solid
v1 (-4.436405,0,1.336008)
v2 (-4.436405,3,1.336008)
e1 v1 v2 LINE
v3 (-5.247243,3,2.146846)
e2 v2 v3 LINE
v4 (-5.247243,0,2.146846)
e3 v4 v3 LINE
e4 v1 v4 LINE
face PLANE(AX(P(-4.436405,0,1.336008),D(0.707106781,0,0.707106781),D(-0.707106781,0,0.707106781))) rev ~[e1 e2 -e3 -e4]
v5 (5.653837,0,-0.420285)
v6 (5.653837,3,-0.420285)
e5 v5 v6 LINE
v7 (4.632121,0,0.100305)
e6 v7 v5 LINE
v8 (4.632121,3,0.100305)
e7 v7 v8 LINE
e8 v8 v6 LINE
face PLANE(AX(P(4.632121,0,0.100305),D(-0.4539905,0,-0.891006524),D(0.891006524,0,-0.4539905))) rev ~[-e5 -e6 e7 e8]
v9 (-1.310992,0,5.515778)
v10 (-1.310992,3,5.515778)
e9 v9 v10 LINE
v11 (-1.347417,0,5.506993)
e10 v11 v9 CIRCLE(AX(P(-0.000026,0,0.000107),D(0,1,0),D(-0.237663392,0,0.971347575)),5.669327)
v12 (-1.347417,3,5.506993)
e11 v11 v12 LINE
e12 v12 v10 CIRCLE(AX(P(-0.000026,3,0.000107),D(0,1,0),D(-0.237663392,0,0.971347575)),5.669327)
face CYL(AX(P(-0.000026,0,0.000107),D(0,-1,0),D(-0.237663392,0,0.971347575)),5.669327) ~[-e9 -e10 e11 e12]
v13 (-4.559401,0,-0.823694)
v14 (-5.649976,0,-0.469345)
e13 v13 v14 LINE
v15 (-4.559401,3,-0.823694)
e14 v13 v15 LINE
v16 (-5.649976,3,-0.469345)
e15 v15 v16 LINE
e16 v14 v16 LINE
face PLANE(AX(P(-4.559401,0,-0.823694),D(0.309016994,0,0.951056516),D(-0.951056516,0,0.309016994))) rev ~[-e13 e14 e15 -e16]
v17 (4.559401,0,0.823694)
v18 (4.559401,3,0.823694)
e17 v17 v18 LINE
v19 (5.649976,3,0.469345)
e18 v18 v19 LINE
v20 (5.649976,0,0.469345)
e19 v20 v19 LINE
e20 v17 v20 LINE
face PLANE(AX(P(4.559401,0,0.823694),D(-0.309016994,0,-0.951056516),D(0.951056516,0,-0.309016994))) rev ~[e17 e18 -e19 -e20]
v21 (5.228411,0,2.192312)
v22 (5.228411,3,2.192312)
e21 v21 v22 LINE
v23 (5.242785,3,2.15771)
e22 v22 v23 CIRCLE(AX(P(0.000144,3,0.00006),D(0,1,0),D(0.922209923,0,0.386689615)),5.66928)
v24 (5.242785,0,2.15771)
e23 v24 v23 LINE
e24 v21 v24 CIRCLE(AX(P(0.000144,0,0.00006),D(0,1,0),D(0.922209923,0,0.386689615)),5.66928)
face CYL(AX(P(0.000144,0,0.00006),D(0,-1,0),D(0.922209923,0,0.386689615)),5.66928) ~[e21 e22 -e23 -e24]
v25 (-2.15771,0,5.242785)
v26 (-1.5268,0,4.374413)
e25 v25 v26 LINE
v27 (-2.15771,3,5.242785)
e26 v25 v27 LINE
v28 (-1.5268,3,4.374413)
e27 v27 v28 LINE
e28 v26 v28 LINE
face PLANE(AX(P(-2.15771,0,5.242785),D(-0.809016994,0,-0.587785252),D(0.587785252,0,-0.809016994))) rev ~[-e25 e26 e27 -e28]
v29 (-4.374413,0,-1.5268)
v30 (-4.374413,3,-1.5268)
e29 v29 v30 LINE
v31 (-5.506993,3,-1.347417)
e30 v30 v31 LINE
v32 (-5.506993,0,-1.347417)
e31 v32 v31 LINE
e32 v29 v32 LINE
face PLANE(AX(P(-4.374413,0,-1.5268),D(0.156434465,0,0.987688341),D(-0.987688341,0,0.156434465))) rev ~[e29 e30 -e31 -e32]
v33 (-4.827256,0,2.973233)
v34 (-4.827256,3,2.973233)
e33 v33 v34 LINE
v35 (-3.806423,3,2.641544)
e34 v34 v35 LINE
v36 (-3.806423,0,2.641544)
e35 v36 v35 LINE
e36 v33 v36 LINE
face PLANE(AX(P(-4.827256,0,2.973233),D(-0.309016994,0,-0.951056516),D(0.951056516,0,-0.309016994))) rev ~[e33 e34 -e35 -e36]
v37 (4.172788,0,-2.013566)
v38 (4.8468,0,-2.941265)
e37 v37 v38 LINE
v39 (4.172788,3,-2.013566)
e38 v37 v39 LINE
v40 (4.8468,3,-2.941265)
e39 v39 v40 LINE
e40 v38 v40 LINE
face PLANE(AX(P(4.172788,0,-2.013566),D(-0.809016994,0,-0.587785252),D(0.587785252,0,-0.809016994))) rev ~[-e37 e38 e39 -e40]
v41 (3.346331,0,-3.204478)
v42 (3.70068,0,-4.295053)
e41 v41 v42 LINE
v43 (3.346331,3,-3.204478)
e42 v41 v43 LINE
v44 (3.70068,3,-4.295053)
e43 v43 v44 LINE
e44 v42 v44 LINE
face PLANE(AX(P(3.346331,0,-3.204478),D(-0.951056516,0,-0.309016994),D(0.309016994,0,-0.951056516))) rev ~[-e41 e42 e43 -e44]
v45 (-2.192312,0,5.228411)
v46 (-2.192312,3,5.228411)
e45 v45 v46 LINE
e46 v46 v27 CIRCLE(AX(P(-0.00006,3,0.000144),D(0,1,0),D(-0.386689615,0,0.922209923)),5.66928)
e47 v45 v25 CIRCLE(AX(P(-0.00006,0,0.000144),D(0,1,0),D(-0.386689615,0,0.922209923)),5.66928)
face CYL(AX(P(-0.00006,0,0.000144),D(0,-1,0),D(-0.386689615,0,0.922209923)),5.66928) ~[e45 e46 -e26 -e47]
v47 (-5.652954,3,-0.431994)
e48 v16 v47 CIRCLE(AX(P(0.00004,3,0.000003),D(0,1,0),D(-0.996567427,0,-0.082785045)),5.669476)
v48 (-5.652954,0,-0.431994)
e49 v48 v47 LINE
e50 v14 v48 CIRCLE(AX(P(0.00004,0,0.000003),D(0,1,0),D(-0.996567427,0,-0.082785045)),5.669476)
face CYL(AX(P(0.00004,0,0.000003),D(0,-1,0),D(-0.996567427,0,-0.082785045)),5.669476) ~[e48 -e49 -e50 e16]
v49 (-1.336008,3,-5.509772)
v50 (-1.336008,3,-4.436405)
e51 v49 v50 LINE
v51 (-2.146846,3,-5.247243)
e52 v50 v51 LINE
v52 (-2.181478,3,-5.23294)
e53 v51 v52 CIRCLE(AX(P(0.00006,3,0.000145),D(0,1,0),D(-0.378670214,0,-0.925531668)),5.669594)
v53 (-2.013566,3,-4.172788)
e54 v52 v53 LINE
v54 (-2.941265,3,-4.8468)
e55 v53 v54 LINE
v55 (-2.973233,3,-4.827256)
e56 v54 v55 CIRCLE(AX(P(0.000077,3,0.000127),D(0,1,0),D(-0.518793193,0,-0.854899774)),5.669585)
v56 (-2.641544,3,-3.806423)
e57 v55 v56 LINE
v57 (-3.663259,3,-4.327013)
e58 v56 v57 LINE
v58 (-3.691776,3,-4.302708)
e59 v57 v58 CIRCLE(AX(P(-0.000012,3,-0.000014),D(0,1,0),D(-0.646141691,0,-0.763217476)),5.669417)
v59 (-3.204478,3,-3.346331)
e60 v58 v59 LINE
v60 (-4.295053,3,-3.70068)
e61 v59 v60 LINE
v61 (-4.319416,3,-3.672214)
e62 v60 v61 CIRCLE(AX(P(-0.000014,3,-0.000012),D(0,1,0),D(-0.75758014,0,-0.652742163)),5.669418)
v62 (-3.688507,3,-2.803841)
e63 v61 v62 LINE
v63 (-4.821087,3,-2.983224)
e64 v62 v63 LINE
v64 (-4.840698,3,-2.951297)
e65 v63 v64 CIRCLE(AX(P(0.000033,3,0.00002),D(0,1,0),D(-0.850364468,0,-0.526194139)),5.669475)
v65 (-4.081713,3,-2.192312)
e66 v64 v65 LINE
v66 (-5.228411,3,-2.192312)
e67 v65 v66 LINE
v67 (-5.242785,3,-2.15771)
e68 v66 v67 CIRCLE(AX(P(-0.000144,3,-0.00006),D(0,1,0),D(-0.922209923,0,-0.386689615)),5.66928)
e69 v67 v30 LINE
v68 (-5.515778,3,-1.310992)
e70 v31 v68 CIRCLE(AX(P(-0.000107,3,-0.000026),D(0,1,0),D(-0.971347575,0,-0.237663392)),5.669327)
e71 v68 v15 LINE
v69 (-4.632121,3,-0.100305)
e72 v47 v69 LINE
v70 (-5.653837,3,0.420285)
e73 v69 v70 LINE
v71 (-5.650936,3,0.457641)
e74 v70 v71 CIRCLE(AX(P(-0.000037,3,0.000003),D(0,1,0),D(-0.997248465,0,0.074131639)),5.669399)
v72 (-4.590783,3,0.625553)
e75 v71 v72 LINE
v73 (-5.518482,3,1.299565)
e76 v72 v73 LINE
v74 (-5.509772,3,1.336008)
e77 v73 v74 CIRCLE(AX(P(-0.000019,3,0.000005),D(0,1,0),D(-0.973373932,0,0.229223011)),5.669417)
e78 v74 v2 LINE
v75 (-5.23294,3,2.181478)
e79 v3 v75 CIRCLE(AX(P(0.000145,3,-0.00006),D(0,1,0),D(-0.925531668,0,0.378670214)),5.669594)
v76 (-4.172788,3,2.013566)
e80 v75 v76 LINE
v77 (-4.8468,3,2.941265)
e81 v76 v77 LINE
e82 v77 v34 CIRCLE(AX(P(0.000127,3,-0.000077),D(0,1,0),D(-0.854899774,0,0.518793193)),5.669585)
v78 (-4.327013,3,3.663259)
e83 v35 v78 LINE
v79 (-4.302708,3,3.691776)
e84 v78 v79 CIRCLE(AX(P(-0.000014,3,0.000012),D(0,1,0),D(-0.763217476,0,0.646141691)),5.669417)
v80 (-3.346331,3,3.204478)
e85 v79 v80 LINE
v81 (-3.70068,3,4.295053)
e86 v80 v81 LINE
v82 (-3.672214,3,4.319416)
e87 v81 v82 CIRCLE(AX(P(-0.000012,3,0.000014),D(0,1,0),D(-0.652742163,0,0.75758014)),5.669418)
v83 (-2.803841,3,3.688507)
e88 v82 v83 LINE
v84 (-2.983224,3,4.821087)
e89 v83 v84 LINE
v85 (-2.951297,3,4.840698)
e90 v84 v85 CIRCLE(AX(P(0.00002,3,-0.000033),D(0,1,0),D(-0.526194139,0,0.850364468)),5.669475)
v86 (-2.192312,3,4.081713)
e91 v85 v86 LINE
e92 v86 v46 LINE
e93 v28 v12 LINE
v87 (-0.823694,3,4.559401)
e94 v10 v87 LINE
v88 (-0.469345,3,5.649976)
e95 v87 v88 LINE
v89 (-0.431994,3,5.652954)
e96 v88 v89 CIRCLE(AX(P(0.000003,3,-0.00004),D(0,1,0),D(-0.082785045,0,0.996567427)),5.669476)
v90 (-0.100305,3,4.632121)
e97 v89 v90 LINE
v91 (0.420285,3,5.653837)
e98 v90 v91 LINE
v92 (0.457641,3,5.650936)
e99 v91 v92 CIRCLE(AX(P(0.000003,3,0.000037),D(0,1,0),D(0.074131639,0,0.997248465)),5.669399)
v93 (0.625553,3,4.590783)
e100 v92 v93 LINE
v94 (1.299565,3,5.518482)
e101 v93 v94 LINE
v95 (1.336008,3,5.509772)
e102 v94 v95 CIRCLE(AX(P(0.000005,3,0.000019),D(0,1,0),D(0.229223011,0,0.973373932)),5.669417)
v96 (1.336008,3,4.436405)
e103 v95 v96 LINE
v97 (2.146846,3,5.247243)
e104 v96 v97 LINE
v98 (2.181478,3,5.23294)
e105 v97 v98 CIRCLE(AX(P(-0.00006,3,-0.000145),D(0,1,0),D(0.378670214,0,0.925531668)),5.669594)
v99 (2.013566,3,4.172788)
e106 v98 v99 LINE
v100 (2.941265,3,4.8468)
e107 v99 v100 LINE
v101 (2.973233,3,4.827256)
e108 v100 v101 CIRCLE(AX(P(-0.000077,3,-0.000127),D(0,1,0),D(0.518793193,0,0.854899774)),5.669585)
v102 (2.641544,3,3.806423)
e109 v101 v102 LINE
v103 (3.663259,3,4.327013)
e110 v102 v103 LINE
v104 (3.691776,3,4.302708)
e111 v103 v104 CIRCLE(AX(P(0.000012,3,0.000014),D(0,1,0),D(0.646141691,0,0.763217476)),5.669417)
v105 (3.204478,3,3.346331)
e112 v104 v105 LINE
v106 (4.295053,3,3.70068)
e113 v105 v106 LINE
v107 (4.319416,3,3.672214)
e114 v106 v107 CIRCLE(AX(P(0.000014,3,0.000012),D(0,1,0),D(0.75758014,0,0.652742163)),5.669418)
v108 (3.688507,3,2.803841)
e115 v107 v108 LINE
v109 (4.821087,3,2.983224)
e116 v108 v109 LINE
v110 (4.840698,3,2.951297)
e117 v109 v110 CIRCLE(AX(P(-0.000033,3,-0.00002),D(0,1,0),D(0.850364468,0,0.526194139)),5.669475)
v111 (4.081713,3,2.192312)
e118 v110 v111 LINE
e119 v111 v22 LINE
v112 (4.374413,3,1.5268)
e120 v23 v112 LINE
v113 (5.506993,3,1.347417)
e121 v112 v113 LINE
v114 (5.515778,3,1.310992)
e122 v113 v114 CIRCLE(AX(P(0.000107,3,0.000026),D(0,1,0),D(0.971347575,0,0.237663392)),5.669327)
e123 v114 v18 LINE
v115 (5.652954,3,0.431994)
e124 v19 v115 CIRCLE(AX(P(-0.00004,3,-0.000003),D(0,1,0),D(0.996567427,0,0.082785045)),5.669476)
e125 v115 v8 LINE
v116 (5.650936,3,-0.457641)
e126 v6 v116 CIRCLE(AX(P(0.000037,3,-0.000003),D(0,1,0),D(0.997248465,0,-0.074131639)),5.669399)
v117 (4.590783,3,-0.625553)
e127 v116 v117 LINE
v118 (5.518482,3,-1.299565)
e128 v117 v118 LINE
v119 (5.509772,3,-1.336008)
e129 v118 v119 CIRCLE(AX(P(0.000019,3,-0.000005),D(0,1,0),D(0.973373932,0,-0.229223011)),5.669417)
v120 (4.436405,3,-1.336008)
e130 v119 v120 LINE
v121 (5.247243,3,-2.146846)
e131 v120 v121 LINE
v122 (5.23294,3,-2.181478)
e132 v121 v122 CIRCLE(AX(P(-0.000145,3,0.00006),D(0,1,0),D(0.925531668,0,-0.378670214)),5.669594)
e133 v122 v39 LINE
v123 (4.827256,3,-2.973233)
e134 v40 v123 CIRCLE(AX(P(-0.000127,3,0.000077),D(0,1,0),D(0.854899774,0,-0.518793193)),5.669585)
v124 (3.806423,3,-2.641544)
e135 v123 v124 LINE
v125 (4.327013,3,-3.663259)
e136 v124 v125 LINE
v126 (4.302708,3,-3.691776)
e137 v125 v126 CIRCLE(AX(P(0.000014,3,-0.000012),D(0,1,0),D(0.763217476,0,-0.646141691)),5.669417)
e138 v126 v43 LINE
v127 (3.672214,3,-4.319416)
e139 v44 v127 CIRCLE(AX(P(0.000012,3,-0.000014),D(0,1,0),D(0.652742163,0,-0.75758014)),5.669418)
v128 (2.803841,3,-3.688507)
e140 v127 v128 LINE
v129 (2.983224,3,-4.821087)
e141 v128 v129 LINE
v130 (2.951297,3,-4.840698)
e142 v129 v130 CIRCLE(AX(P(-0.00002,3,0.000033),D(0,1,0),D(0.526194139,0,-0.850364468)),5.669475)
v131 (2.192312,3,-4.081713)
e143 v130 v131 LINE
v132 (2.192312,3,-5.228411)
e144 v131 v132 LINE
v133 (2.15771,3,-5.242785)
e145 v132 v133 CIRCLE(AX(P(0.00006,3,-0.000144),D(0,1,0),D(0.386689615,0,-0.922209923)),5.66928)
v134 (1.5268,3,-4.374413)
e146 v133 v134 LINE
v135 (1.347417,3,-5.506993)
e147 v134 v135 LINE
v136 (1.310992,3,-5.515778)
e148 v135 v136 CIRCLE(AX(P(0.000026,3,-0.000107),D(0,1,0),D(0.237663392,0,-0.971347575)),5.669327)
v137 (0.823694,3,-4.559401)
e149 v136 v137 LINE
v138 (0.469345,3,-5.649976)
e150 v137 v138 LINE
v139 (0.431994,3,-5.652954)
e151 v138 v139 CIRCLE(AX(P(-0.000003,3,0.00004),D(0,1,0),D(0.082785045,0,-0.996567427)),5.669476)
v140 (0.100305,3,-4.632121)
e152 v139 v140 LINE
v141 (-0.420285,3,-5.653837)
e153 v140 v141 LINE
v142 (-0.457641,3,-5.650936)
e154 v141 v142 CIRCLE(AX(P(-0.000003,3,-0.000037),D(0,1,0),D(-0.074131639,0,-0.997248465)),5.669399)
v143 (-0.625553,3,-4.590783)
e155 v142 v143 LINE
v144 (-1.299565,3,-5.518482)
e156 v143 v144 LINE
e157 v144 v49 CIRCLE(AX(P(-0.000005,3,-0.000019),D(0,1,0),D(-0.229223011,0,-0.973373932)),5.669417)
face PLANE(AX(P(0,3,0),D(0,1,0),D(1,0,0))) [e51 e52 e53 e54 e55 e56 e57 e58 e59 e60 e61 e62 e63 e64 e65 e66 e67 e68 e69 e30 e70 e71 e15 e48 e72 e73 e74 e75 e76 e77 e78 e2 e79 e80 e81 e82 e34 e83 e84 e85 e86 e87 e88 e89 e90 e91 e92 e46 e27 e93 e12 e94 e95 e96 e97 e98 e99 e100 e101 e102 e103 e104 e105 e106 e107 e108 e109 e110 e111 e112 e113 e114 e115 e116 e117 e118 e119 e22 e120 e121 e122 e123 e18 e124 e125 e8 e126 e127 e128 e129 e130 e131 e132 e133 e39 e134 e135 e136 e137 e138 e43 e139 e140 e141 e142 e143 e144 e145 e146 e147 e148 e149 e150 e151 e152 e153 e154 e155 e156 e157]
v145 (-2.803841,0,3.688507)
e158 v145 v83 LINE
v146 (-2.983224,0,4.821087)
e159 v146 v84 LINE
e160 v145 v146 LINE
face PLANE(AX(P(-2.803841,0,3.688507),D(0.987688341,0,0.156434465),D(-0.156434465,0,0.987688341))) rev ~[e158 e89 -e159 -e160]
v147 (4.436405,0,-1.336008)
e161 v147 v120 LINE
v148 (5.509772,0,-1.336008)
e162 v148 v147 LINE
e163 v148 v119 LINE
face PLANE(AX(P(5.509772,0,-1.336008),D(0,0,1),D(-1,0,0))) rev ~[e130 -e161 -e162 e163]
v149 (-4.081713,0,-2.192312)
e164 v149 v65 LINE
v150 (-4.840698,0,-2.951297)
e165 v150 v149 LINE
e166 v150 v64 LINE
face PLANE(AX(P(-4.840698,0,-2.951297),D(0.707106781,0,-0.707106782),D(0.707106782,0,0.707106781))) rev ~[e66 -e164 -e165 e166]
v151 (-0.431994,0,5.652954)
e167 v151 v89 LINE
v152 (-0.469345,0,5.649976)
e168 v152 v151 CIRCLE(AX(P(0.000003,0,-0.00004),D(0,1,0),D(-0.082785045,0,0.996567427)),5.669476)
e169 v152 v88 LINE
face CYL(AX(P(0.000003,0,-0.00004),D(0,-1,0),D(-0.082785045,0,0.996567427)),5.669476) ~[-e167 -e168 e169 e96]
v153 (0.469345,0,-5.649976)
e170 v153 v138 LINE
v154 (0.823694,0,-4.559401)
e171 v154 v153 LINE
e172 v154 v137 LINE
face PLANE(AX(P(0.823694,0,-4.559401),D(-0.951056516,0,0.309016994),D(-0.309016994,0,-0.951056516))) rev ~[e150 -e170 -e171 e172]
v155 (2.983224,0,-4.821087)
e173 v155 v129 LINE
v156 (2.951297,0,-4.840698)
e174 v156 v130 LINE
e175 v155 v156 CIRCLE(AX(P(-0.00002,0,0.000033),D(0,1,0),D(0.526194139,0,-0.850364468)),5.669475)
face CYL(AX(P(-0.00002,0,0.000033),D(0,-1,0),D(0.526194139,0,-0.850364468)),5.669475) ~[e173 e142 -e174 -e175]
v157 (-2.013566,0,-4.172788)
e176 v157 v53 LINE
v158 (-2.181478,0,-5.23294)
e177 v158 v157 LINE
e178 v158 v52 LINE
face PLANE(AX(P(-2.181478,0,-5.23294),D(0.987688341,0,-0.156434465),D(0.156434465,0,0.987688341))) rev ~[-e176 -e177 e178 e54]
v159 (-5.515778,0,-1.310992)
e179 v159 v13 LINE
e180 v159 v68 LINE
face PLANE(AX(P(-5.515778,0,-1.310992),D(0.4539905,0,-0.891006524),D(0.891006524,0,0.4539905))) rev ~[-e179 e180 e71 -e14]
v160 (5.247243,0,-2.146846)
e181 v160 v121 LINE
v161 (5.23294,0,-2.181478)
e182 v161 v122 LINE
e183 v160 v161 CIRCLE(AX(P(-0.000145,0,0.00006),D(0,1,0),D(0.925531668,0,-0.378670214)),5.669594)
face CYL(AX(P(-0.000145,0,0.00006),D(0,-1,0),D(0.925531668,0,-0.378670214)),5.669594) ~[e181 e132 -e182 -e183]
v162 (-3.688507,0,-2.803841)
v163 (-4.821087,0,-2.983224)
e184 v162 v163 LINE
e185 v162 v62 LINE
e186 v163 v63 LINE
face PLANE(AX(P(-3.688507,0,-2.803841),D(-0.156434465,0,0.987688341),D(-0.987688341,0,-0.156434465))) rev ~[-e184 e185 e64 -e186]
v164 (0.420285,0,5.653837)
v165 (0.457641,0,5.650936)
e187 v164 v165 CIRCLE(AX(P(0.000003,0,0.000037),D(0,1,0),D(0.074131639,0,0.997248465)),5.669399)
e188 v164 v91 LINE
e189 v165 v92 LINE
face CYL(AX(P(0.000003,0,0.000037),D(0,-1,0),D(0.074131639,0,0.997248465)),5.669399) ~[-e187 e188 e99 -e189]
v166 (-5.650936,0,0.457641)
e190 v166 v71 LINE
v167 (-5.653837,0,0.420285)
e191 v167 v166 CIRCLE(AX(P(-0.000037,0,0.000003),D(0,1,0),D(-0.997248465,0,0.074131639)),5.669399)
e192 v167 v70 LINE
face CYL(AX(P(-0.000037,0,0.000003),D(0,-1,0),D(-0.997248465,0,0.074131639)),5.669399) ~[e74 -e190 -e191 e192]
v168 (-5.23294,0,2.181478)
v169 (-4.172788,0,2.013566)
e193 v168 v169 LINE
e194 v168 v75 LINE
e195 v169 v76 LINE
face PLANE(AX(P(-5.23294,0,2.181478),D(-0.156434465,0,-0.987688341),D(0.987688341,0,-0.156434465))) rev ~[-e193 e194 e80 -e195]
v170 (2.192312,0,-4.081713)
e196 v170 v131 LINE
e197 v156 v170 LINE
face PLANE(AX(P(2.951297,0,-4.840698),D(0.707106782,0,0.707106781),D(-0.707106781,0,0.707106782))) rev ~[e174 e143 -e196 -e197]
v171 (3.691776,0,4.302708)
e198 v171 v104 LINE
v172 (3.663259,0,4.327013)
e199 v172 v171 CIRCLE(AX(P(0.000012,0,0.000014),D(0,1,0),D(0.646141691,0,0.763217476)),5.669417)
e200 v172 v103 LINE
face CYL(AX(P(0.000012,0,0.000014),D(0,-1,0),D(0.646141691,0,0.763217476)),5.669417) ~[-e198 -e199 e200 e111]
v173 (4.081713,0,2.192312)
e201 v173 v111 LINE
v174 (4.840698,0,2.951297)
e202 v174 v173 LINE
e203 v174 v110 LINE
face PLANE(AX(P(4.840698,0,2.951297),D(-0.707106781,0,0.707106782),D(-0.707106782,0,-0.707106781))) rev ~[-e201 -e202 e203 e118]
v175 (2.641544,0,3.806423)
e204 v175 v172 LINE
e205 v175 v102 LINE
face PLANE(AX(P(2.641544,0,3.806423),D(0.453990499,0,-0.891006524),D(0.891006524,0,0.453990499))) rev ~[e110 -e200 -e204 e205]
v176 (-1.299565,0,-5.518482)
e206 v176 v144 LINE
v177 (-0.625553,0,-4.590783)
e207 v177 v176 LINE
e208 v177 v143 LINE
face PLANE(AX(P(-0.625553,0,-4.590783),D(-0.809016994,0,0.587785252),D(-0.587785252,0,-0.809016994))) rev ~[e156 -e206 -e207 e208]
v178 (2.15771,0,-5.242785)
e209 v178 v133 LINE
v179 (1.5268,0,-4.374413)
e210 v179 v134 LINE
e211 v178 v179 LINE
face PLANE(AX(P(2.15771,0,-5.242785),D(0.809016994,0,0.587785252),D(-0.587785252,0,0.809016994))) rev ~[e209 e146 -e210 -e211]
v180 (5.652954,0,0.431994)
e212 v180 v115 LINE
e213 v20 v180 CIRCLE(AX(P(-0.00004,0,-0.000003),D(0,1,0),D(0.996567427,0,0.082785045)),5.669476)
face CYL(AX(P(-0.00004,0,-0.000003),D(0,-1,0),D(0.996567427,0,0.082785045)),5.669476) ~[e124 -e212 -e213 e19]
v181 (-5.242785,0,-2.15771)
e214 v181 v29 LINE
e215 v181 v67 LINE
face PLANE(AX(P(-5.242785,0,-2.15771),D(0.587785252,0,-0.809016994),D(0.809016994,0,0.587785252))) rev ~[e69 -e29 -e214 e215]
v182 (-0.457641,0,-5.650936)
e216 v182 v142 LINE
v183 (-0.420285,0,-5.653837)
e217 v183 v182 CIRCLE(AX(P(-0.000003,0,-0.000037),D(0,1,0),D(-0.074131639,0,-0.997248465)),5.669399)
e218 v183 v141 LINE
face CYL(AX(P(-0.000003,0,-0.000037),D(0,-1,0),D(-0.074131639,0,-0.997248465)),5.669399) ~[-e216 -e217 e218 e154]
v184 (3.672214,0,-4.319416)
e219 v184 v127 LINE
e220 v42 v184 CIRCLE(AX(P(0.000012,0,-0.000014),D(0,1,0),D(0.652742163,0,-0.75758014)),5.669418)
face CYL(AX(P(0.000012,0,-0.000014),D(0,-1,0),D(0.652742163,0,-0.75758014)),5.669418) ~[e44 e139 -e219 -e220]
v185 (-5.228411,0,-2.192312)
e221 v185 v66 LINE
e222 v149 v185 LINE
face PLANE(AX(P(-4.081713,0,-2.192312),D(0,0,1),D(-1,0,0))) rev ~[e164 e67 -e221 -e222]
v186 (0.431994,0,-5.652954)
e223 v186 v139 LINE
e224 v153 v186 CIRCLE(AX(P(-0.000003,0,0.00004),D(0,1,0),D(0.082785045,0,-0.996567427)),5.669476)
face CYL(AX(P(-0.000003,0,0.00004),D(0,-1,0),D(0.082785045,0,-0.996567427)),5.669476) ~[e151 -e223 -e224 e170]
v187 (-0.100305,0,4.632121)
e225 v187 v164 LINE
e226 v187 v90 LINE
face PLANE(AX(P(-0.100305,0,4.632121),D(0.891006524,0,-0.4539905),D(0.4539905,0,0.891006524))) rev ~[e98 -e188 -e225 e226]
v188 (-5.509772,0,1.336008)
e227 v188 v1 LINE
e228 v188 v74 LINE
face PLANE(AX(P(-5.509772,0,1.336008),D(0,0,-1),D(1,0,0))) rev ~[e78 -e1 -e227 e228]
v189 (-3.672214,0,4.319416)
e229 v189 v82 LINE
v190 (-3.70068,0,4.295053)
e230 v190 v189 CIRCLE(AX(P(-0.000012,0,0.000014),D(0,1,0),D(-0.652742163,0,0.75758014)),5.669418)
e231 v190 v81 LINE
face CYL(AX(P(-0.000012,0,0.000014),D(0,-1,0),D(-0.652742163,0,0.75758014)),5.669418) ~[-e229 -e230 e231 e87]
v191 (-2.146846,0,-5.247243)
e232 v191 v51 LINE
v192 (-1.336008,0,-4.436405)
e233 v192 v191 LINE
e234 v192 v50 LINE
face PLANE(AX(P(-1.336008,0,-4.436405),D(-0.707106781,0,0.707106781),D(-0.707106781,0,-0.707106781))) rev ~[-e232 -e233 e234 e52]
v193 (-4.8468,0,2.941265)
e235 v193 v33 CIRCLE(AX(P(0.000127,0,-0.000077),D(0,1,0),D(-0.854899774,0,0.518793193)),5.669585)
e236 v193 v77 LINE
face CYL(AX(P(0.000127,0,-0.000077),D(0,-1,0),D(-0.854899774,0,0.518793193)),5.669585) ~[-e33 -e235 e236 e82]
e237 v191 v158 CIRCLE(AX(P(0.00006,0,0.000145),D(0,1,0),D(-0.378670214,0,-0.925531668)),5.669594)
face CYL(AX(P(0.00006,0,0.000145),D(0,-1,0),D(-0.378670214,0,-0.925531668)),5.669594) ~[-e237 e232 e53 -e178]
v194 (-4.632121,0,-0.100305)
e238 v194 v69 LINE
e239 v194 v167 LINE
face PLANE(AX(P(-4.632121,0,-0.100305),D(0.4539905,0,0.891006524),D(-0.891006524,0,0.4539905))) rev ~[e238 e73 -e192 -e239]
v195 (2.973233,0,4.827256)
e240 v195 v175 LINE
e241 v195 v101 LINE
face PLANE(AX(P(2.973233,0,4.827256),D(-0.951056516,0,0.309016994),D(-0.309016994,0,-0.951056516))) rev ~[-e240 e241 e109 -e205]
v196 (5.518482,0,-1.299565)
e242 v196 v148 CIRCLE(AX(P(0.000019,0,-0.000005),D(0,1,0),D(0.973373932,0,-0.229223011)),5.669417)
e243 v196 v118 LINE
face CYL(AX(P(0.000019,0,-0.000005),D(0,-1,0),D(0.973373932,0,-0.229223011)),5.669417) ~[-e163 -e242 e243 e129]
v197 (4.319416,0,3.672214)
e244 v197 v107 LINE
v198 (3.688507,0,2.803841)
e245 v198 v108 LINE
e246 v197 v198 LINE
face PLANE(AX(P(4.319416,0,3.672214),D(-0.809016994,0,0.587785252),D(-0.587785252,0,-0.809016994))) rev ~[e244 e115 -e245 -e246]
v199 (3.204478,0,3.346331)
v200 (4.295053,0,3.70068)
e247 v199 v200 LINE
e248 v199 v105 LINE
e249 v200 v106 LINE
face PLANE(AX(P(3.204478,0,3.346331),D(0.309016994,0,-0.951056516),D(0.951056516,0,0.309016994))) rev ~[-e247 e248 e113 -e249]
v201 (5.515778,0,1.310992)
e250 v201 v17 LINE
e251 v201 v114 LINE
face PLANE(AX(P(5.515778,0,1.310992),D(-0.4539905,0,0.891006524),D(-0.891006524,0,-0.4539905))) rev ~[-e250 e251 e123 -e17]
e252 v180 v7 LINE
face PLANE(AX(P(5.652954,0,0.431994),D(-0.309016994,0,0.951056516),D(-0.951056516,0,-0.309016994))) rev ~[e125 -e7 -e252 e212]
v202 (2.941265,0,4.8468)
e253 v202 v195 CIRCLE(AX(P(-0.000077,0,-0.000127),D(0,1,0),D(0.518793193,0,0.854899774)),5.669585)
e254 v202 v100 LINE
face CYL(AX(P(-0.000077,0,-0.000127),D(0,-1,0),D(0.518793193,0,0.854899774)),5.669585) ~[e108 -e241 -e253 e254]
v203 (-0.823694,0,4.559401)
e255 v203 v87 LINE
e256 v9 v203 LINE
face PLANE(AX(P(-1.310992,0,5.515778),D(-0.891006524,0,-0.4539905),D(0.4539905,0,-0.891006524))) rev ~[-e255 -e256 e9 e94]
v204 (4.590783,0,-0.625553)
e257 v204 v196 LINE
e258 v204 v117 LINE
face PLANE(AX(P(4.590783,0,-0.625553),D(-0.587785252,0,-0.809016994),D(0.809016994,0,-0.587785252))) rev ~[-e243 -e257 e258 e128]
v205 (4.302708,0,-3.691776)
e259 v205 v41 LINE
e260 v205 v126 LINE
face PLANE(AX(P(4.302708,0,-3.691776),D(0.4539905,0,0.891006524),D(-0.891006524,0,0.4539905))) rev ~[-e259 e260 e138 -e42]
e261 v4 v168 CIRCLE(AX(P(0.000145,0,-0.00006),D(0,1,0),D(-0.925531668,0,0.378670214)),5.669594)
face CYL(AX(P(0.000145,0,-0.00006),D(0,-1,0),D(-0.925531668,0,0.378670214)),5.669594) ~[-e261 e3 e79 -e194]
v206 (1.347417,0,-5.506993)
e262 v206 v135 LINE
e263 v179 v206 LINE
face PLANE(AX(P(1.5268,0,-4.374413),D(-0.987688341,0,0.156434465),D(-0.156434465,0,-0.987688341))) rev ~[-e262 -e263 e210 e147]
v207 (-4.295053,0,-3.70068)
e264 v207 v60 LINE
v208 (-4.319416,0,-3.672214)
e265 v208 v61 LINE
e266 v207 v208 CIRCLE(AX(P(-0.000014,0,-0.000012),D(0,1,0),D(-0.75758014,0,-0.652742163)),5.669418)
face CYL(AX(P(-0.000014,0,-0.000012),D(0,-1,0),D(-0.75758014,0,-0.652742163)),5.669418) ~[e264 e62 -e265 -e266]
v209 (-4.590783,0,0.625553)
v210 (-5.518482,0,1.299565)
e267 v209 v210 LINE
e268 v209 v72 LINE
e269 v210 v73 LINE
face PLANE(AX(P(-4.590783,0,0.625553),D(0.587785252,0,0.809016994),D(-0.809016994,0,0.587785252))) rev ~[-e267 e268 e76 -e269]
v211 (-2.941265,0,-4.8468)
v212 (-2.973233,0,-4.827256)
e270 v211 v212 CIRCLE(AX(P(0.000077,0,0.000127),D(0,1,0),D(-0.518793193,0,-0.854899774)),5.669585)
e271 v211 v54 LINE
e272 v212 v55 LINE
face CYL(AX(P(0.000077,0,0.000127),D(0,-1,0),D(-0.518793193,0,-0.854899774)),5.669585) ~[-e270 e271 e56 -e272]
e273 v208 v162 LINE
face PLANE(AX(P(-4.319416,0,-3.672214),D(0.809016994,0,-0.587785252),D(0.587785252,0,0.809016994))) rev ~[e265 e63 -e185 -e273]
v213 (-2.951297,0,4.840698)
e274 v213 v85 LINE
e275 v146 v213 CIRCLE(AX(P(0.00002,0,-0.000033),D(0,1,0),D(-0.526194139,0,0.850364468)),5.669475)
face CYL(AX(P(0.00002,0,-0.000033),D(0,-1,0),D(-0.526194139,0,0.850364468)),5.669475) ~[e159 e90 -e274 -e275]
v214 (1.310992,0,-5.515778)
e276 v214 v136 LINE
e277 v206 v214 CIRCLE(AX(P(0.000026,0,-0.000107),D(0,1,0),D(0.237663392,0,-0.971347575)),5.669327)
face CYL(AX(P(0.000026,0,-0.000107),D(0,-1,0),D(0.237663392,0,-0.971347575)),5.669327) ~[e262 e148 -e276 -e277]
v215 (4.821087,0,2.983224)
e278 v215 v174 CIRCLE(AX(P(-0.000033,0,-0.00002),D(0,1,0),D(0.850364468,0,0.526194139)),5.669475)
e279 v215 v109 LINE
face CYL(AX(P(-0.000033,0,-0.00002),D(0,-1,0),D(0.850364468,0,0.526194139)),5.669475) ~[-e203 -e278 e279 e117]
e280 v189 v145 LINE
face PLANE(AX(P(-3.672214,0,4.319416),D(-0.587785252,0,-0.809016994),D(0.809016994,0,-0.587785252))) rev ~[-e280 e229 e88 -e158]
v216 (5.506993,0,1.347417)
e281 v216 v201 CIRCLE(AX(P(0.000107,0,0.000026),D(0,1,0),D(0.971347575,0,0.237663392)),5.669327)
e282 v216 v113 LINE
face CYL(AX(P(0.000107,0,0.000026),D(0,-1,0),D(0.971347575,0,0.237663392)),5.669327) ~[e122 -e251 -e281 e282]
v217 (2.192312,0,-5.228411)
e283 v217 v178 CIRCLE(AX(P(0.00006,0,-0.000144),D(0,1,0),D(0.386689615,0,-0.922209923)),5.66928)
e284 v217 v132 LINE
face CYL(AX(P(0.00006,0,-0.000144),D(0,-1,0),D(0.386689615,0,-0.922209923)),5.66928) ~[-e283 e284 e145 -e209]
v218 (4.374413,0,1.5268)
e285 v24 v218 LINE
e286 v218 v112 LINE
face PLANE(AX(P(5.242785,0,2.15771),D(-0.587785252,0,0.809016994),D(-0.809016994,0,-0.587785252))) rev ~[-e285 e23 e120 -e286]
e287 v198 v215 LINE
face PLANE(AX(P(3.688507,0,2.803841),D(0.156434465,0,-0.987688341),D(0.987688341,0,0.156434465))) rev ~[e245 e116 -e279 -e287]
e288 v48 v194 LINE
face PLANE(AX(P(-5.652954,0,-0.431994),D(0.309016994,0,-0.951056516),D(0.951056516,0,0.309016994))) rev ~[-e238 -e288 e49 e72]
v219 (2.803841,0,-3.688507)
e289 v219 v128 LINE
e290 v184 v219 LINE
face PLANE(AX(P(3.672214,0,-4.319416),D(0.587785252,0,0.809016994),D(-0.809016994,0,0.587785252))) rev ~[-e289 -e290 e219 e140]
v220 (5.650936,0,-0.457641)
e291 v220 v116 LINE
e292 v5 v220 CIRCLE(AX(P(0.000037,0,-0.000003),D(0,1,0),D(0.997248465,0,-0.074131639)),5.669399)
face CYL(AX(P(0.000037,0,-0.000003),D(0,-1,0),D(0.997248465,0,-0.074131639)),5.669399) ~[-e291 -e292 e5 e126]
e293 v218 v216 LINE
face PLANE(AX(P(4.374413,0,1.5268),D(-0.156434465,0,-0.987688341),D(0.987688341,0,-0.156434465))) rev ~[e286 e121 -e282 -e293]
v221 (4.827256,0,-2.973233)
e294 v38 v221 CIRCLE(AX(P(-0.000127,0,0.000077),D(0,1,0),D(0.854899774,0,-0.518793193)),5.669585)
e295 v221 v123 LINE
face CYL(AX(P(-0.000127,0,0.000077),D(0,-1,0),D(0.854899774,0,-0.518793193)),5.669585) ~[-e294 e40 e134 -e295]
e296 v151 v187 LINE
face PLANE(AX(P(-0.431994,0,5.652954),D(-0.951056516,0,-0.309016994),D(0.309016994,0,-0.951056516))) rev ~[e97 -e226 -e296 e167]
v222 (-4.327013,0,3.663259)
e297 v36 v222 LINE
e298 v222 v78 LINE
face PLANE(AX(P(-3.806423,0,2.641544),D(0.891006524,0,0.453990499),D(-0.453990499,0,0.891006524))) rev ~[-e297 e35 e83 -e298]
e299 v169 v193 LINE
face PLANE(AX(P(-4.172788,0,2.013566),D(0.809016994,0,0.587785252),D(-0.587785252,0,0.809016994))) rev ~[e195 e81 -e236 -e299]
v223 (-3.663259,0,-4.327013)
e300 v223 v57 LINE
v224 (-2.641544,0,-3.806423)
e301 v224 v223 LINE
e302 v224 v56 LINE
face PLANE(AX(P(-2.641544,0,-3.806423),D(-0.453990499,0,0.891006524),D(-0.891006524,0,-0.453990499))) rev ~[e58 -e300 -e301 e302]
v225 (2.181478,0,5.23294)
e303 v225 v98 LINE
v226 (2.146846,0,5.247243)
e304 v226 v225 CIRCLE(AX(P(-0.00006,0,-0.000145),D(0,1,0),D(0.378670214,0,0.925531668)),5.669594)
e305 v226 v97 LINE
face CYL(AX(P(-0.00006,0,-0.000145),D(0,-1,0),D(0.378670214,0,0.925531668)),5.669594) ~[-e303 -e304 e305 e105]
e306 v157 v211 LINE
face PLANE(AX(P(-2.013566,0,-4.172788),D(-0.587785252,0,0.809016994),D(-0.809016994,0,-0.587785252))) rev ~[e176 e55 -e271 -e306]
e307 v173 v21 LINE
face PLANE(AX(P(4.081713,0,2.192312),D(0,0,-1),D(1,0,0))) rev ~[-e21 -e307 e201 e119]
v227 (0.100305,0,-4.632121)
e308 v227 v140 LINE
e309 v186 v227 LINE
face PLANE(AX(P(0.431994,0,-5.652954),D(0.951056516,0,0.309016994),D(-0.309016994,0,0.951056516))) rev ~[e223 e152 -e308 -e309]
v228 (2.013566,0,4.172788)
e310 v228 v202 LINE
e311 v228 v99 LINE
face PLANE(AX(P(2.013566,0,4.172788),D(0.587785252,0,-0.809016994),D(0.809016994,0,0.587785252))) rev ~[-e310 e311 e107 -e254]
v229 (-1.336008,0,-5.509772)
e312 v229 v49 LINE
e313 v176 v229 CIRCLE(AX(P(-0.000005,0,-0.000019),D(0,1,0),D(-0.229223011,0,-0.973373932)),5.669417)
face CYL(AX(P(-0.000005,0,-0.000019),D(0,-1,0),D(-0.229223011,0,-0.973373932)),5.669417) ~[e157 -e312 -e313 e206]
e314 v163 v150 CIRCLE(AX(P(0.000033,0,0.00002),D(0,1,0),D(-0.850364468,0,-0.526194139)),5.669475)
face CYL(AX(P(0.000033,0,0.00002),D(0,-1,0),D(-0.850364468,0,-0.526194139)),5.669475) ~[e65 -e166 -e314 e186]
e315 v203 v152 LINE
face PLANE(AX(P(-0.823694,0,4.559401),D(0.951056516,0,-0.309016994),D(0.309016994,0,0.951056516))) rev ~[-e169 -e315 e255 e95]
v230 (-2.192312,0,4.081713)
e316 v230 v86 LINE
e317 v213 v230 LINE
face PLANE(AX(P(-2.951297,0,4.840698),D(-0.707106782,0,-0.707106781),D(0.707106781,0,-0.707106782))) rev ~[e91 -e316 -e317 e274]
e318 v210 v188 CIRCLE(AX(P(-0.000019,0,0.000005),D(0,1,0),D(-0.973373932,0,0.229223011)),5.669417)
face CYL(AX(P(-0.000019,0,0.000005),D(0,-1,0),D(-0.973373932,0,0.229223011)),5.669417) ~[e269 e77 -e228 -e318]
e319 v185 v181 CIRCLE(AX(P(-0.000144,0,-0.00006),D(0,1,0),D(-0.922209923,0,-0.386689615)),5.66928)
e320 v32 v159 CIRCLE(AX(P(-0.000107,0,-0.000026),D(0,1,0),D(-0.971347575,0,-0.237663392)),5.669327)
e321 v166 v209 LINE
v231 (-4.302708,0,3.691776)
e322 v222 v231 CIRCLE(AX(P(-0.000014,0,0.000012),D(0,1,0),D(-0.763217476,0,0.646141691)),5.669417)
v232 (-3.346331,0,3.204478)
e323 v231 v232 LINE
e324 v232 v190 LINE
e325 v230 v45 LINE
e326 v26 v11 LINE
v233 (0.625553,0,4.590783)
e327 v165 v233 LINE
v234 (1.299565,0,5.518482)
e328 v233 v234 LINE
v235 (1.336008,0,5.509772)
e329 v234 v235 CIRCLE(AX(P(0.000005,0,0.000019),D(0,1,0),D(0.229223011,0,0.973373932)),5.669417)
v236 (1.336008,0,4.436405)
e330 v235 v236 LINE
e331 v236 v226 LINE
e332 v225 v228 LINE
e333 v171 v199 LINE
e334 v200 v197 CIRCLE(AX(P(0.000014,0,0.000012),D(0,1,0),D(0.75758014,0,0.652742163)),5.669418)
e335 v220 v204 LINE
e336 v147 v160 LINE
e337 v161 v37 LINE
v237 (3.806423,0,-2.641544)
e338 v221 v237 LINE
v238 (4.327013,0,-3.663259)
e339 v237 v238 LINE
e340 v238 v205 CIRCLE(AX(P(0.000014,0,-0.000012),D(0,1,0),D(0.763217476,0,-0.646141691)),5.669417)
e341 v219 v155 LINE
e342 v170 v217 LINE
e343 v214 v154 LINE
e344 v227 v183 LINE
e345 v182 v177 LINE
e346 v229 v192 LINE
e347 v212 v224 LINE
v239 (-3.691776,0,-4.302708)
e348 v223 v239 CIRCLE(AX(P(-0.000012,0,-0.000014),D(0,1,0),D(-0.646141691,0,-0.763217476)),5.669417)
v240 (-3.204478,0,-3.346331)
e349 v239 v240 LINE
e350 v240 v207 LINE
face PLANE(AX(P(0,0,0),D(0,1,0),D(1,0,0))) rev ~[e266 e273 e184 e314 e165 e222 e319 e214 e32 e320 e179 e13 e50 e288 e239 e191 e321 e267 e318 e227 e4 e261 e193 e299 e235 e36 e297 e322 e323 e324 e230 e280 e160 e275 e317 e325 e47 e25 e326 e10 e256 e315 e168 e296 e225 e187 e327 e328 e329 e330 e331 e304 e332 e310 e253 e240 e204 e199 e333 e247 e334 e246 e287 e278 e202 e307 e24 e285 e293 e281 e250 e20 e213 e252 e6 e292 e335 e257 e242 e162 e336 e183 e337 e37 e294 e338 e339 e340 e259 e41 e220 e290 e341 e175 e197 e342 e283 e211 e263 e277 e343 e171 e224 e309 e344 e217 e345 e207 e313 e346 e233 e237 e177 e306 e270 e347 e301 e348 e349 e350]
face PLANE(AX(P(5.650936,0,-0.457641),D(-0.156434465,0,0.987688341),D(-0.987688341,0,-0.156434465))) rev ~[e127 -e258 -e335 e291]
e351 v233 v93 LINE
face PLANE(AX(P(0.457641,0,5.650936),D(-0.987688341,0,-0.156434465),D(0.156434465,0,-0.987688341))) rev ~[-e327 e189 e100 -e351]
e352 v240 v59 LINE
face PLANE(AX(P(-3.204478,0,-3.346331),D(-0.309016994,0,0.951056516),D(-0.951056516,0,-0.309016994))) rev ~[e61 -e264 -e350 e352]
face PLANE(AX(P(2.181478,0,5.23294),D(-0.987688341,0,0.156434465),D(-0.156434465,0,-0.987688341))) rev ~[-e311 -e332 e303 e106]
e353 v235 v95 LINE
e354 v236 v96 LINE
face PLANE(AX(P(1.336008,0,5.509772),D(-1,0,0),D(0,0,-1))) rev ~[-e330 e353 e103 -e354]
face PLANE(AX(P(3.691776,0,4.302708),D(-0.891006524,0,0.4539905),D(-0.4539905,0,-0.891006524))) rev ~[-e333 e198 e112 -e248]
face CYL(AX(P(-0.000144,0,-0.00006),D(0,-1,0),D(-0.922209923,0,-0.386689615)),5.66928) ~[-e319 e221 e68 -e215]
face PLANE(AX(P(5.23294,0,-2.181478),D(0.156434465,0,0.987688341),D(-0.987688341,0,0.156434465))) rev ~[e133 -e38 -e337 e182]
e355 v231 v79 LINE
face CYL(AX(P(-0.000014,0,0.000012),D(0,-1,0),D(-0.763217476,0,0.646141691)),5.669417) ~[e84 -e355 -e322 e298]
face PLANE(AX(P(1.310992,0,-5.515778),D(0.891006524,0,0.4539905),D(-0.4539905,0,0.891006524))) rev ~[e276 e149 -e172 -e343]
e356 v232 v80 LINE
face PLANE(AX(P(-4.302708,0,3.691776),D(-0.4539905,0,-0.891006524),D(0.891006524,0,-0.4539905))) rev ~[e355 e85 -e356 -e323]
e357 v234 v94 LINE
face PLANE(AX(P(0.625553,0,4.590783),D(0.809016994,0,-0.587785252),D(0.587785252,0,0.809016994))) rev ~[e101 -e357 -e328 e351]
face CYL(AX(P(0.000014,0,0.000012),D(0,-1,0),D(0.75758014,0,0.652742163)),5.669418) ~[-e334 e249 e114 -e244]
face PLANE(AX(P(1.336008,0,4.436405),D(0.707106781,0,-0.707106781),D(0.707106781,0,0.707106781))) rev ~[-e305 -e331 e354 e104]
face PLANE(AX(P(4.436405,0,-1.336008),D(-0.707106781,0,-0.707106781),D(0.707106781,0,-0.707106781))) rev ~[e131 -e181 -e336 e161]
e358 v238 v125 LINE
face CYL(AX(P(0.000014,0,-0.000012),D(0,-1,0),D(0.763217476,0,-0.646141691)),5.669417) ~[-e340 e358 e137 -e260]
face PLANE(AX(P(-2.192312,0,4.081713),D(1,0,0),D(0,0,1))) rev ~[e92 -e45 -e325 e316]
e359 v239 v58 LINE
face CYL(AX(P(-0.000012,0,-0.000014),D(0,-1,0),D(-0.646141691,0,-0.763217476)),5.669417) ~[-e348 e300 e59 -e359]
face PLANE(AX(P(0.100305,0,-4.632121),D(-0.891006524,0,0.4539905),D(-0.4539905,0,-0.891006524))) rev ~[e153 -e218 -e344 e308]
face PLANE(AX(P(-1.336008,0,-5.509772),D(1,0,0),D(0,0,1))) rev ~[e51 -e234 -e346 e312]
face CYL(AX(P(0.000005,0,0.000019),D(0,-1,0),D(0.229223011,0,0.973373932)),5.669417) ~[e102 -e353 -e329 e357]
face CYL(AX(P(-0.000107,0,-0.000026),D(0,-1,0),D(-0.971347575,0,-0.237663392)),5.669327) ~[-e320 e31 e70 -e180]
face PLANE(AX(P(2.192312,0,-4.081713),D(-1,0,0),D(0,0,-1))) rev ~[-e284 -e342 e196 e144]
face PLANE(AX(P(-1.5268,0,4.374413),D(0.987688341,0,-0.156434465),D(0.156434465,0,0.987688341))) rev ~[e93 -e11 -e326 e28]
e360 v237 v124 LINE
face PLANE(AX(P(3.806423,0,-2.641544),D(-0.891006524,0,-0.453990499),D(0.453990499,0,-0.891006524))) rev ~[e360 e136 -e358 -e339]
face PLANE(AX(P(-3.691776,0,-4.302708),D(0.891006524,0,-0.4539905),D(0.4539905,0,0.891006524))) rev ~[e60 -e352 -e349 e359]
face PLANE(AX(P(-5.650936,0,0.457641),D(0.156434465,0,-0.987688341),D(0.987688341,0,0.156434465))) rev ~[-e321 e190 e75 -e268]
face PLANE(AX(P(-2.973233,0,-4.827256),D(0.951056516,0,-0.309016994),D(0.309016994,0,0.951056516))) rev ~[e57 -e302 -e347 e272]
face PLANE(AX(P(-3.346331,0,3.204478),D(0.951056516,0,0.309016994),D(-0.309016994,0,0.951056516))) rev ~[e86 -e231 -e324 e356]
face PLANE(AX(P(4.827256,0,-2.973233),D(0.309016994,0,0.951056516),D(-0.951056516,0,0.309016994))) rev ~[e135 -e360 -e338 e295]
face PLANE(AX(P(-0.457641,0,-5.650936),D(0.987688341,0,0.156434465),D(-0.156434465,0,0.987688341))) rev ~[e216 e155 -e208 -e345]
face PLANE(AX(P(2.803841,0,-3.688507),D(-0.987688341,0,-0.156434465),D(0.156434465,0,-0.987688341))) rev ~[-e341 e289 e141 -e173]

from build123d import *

# Parameters (mm, degrees)
Y_KSEKLIK_EKSTR_ZYON1_DEPTH = 3


with BuildPart() as part:
    # Çizim1 → Yükseklik-Ekstrüzyon1 (new body)
    with BuildSketch(Plane(origin=(0, 0, 0), x_dir=(1, 0, 0), z_dir=(0, 1, 0))):
        with BuildLine():
            Line((-1.336008246, 4.436405178), (-2.146846221, 5.247243153))
            ThreePointArc((-2.146846221, 5.247243153), (-2.164173955, 5.240120274), (-2.181478058, 5.232940176))
            Line((-2.181478058, 5.232940176), (-2.013566438, 4.172787933))
            Line((-2.013566438, 4.172787933), (-2.941264657, 4.846800142))
            ThreePointArc((-2.941264657, 4.846800142), (-2.957264794, 4.837054303), (-2.97323264, 4.827255646))
            Line((-2.97323264, 4.827255646), (-2.641543942, 3.806422801))
            Line((-2.641543942, 3.806422801), (-3.663259395, 4.327012826))
            ThreePointArc((-3.663259395, 4.327012826), (-3.67753796, 4.314884002), (-3.691776367, 4.302708061))
            Line((-3.691776367, 4.302708061), (-3.204477867, 3.346330906))
            Line((-3.204477867, 3.346330906), (-4.29505253, 3.700680094))
            ThreePointArc((-4.29505253, 3.700680094), (-4.307257936, 3.686466936), (-4.319416307, 3.672213524))
            Line((-4.319416307, 3.672213524), (-3.688506912, 2.803841239))
            Line((-3.688506912, 2.803841239), (-4.821087217, 2.983224337))
            ThreePointArc((-4.821087217, 2.983224337), (-4.830918926, 2.96727682), (-4.840697883, 2.951296902))
            Line((-4.840697883, 2.951296902), (-4.081712675, 2.192311695))
            Line((-4.081712675, 2.192311695), (-5.228410736, 2.192311695))
            ThreePointArc((-5.228410736, 2.192311695), (-5.23562666, 2.175022501), (-5.242785411, 2.157709556))
            Line((-5.242785411, 2.157709556), (-4.374413126, 1.526800161))
            Line((-4.374413126, 1.526800161), (-5.506993431, 1.347417063))
            ThreePointArc((-5.506993431, 1.347417063), (-5.511415889, 1.329211909), (-5.515778163, 1.31099224))
            Line((-5.515778163, 1.31099224), (-4.559401008, 0.82369374))
            Line((-4.559401008, 0.82369374), (-5.649975671, 0.469344552))
            ThreePointArc((-5.649975671, 0.469344552), (-5.651495767, 0.450671709), (-5.652954151, 0.431993944))
            Line((-5.652954151, 0.431993944), (-4.632121306, 0.100305246))
            Line((-4.632121306, 0.100305246), (-5.653836759, -0.42028478))
            ThreePointArc((-5.653836759, -0.42028478), (-5.652417064, -0.438965525), (-5.650935646, -0.457641477))
            Line((-5.650935646, -0.457641477), (-4.590783403, -0.625553097))
            Line((-4.590783403, -0.625553097), (-5.518481622, -1.299565306))
            ThreePointArc((-5.518481622, -1.299565306), (-5.514157093, -1.317793971), (-5.509772351, -1.336008246))
            Line((-5.509772351, -1.336008246), (-4.436405178, -1.336008246))
            Line((-4.436405178, -1.336008246), (-5.247243153, -2.146846221))
            ThreePointArc((-5.247243153, -2.146846221), (-5.240120274, -2.164173955), (-5.232940176, -2.181478058))
            Line((-5.232940176, -2.181478058), (-4.172787933, -2.013566438))
            Line((-4.172787933, -2.013566438), (-4.846800142, -2.941264657))
            ThreePointArc((-4.846800142, -2.941264657), (-4.837054303, -2.957264794), (-4.827255646, -2.97323264))
            Line((-4.827255646, -2.97323264), (-3.806422801, -2.641543942))
            Line((-3.806422801, -2.641543942), (-4.327012826, -3.663259395))
            ThreePointArc((-4.327012826, -3.663259395), (-4.314884002, -3.67753796), (-4.302708061, -3.691776367))
            Line((-4.302708061, -3.691776367), (-3.346330906, -3.204477867))
            Line((-3.346330906, -3.204477867), (-3.700680094, -4.29505253))
            ThreePointArc((-3.700680094, -4.29505253), (-3.686466936, -4.307257936), (-3.672213524, -4.319416307))
            Line((-3.672213524, -4.319416307), (-2.803841239, -3.688506912))
            Line((-2.803841239, -3.688506912), (-2.983224337, -4.821087217))
            ThreePointArc((-2.983224337, -4.821087217), (-2.96727682, -4.830918926), (-2.951296902, -4.840697883))
            Line((-2.951296902, -4.840697883), (-2.192311695, -4.081712675))
            Line((-2.192311695, -4.081712675), (-2.192311695, -5.228410736))
            ThreePointArc((-2.192311695, -5.228410736), (-2.175022501, -5.23562666), (-2.157709556, -5.242785411))
            Line((-2.157709556, -5.242785411), (-1.526800161, -4.374413126))
            Line((-1.526800161, -4.374413126), (-1.347417063, -5.506993431))
            ThreePointArc((-1.347417063, -5.506993431), (-1.329211909, -5.511415889), (-1.31099224, -5.515778163))
            Line((-1.31099224, -5.515778163), (-0.82369374, -4.559401008))
            Line((-0.82369374, -4.559401008), (-0.469344552, -5.649975671))
            ThreePointArc((-0.469344552, -5.649975671), (-0.450671709, -5.651495767), (-0.431993944, -5.652954151))
            Line((-0.431993944, -5.652954151), (-0.100305246, -4.632121306))
            Line((-0.100305246, -4.632121306), (0.42028478, -5.653836759))
            ThreePointArc((0.42028478, -5.653836759), (0.438965525, -5.652417064), (0.457641477, -5.650935646))
            Line((0.457641477, -5.650935646), (0.625553097, -4.590783403))
            Line((0.625553097, -4.590783403), (1.299565306, -5.518481622))
            ThreePointArc((1.299565306, -5.518481622), (1.317793971, -5.514157093), (1.336008246, -5.509772351))
            Line((1.336008246, -5.509772351), (1.336008246, -4.436405178))
            Line((1.336008246, -4.436405178), (2.146846221, -5.247243153))
            ThreePointArc((2.146846221, -5.247243153), (2.164173955, -5.240120274), (2.181478058, -5.232940176))
            Line((2.181478058, -5.232940176), (2.013566438, -4.172787933))
            Line((2.013566438, -4.172787933), (2.941264657, -4.846800142))
            ThreePointArc((2.941264657, -4.846800142), (2.957264794, -4.837054303), (2.97323264, -4.827255646))
            Line((2.97323264, -4.827255646), (2.641543942, -3.806422801))
            Line((2.641543942, -3.806422801), (3.663259395, -4.327012826))
            ThreePointArc((3.663259395, -4.327012826), (3.67753796, -4.314884002), (3.691776367, -4.302708061))
            Line((3.691776367, -4.302708061), (3.204477867, -3.346330906))
            Line((3.204477867, -3.346330906), (4.29505253, -3.700680094))
            ThreePointArc((4.29505253, -3.700680094), (4.307257936, -3.686466936), (4.319416307, -3.672213524))
            Line((4.319416307, -3.672213524), (3.688506912, -2.803841239))
            Line((3.688506912, -2.803841239), (4.821087217, -2.983224337))
            ThreePointArc((4.821087217, -2.983224337), (4.830918926, -2.96727682), (4.840697883, -2.951296902))
            Line((4.840697883, -2.951296902), (4.081712675, -2.192311695))
            Line((4.081712675, -2.192311695), (5.228410736, -2.192311695))
            ThreePointArc((5.228410736, -2.192311695), (5.23562666, -2.175022501), (5.242785411, -2.157709556))
            Line((5.242785411, -2.157709556), (4.374413126, -1.526800161))
            Line((4.374413126, -1.526800161), (5.506993431, -1.347417063))
            ThreePointArc((5.506993431, -1.347417063), (5.511415889, -1.329211909), (5.515778163, -1.31099224))
            Line((5.515778163, -1.31099224), (4.559401008, -0.82369374))
            Line((4.559401008, -0.82369374), (5.649975671, -0.469344552))
            ThreePointArc((5.649975671, -0.469344552), (5.651495767, -0.450671709), (5.652954151, -0.431993944))
            Line((5.652954151, -0.431993944), (4.632121306, -0.100305246))
            Line((4.632121306, -0.100305246), (5.653836759, 0.42028478))
            ThreePointArc((5.653836759, 0.42028478), (5.652417064, 0.438965525), (5.650935646, 0.457641477))
            Line((5.650935646, 0.457641477), (4.590783403, 0.625553097))
            Line((4.590783403, 0.625553097), (5.518481622, 1.299565306))
            ThreePointArc((5.518481622, 1.299565306), (5.514157093, 1.317793971), (5.509772351, 1.336008246))
            Line((5.509772351, 1.336008246), (4.436405178, 1.336008246))
            Line((4.436405178, 1.336008246), (5.247243153, 2.146846221))
            ThreePointArc((5.247243153, 2.146846221), (5.240120274, 2.164173955), (5.232940176, 2.181478058))
            Line((5.232940176, 2.181478058), (4.172787933, 2.013566438))
            Line((4.172787933, 2.013566438), (4.846800142, 2.941264657))
            ThreePointArc((4.846800142, 2.941264657), (4.837054303, 2.957264794), (4.827255646, 2.97323264))
            Line((4.827255646, 2.97323264), (3.806422801, 2.641543942))
            Line((3.806422801, 2.641543942), (4.327012826, 3.663259395))
            ThreePointArc((4.327012826, 3.663259395), (4.314884002, 3.67753796), (4.302708061, 3.691776367))
            Line((4.302708061, 3.691776367), (3.346330906, 3.204477867))
            Line((3.346330906, 3.204477867), (3.700680094, 4.29505253))
            ThreePointArc((3.700680094, 4.29505253), (3.686466936, 4.307257936), (3.672213524, 4.319416307))
            Line((3.672213524, 4.319416307), (2.803841239, 3.688506912))
            Line((2.803841239, 3.688506912), (2.983224337, 4.821087217))
            ThreePointArc((2.983224337, 4.821087217), (2.96727682, 4.830918926), (2.951296902, 4.840697883))
            Line((2.951296902, 4.840697883), (2.192311695, 4.081712675))
            Line((2.192311695, 4.081712675), (2.192311695, 5.228410736))
            ThreePointArc((2.192311695, 5.228410736), (2.175022501, 5.23562666), (2.157709556, 5.242785411))
            Line((2.157709556, 5.242785411), (1.526800161, 4.374413126))
            Line((1.526800161, 4.374413126), (1.347417063, 5.506993431))
            ThreePointArc((1.347417063, 5.506993431), (1.329211909, 5.511415889), (1.31099224, 5.515778163))
            Line((1.31099224, 5.515778163), (0.82369374, 4.559401008))
            Line((0.82369374, 4.559401008), (0.469344552, 5.649975671))
            ThreePointArc((0.469344552, 5.649975671), (0.450671709, 5.651495767), (0.431993944, 5.652954151))
            Line((0.431993944, 5.652954151), (0.100305246, 4.632121306))
            Line((0.100305246, 4.632121306), (-0.42028478, 5.653836759))
            ThreePointArc((-0.42028478, 5.653836759), (-0.438965525, 5.652417064), (-0.457641477, 5.650935646))
            Line((-0.457641477, 5.650935646), (-0.625553097, 4.590783403))
            Line((-0.625553097, 4.590783403), (-1.299565306, 5.518481622))
            ThreePointArc((-1.299565306, 5.518481622), (-1.317793971, 5.514157093), (-1.336008246, 5.509772351))
            Line((-1.336008246, 5.509772351), (-1.336008246, 4.436405178))
        make_face()
    extrude(amount=Y_KSEKLIK_EKSTR_ZYON1_DEPTH)


solid = part.part
